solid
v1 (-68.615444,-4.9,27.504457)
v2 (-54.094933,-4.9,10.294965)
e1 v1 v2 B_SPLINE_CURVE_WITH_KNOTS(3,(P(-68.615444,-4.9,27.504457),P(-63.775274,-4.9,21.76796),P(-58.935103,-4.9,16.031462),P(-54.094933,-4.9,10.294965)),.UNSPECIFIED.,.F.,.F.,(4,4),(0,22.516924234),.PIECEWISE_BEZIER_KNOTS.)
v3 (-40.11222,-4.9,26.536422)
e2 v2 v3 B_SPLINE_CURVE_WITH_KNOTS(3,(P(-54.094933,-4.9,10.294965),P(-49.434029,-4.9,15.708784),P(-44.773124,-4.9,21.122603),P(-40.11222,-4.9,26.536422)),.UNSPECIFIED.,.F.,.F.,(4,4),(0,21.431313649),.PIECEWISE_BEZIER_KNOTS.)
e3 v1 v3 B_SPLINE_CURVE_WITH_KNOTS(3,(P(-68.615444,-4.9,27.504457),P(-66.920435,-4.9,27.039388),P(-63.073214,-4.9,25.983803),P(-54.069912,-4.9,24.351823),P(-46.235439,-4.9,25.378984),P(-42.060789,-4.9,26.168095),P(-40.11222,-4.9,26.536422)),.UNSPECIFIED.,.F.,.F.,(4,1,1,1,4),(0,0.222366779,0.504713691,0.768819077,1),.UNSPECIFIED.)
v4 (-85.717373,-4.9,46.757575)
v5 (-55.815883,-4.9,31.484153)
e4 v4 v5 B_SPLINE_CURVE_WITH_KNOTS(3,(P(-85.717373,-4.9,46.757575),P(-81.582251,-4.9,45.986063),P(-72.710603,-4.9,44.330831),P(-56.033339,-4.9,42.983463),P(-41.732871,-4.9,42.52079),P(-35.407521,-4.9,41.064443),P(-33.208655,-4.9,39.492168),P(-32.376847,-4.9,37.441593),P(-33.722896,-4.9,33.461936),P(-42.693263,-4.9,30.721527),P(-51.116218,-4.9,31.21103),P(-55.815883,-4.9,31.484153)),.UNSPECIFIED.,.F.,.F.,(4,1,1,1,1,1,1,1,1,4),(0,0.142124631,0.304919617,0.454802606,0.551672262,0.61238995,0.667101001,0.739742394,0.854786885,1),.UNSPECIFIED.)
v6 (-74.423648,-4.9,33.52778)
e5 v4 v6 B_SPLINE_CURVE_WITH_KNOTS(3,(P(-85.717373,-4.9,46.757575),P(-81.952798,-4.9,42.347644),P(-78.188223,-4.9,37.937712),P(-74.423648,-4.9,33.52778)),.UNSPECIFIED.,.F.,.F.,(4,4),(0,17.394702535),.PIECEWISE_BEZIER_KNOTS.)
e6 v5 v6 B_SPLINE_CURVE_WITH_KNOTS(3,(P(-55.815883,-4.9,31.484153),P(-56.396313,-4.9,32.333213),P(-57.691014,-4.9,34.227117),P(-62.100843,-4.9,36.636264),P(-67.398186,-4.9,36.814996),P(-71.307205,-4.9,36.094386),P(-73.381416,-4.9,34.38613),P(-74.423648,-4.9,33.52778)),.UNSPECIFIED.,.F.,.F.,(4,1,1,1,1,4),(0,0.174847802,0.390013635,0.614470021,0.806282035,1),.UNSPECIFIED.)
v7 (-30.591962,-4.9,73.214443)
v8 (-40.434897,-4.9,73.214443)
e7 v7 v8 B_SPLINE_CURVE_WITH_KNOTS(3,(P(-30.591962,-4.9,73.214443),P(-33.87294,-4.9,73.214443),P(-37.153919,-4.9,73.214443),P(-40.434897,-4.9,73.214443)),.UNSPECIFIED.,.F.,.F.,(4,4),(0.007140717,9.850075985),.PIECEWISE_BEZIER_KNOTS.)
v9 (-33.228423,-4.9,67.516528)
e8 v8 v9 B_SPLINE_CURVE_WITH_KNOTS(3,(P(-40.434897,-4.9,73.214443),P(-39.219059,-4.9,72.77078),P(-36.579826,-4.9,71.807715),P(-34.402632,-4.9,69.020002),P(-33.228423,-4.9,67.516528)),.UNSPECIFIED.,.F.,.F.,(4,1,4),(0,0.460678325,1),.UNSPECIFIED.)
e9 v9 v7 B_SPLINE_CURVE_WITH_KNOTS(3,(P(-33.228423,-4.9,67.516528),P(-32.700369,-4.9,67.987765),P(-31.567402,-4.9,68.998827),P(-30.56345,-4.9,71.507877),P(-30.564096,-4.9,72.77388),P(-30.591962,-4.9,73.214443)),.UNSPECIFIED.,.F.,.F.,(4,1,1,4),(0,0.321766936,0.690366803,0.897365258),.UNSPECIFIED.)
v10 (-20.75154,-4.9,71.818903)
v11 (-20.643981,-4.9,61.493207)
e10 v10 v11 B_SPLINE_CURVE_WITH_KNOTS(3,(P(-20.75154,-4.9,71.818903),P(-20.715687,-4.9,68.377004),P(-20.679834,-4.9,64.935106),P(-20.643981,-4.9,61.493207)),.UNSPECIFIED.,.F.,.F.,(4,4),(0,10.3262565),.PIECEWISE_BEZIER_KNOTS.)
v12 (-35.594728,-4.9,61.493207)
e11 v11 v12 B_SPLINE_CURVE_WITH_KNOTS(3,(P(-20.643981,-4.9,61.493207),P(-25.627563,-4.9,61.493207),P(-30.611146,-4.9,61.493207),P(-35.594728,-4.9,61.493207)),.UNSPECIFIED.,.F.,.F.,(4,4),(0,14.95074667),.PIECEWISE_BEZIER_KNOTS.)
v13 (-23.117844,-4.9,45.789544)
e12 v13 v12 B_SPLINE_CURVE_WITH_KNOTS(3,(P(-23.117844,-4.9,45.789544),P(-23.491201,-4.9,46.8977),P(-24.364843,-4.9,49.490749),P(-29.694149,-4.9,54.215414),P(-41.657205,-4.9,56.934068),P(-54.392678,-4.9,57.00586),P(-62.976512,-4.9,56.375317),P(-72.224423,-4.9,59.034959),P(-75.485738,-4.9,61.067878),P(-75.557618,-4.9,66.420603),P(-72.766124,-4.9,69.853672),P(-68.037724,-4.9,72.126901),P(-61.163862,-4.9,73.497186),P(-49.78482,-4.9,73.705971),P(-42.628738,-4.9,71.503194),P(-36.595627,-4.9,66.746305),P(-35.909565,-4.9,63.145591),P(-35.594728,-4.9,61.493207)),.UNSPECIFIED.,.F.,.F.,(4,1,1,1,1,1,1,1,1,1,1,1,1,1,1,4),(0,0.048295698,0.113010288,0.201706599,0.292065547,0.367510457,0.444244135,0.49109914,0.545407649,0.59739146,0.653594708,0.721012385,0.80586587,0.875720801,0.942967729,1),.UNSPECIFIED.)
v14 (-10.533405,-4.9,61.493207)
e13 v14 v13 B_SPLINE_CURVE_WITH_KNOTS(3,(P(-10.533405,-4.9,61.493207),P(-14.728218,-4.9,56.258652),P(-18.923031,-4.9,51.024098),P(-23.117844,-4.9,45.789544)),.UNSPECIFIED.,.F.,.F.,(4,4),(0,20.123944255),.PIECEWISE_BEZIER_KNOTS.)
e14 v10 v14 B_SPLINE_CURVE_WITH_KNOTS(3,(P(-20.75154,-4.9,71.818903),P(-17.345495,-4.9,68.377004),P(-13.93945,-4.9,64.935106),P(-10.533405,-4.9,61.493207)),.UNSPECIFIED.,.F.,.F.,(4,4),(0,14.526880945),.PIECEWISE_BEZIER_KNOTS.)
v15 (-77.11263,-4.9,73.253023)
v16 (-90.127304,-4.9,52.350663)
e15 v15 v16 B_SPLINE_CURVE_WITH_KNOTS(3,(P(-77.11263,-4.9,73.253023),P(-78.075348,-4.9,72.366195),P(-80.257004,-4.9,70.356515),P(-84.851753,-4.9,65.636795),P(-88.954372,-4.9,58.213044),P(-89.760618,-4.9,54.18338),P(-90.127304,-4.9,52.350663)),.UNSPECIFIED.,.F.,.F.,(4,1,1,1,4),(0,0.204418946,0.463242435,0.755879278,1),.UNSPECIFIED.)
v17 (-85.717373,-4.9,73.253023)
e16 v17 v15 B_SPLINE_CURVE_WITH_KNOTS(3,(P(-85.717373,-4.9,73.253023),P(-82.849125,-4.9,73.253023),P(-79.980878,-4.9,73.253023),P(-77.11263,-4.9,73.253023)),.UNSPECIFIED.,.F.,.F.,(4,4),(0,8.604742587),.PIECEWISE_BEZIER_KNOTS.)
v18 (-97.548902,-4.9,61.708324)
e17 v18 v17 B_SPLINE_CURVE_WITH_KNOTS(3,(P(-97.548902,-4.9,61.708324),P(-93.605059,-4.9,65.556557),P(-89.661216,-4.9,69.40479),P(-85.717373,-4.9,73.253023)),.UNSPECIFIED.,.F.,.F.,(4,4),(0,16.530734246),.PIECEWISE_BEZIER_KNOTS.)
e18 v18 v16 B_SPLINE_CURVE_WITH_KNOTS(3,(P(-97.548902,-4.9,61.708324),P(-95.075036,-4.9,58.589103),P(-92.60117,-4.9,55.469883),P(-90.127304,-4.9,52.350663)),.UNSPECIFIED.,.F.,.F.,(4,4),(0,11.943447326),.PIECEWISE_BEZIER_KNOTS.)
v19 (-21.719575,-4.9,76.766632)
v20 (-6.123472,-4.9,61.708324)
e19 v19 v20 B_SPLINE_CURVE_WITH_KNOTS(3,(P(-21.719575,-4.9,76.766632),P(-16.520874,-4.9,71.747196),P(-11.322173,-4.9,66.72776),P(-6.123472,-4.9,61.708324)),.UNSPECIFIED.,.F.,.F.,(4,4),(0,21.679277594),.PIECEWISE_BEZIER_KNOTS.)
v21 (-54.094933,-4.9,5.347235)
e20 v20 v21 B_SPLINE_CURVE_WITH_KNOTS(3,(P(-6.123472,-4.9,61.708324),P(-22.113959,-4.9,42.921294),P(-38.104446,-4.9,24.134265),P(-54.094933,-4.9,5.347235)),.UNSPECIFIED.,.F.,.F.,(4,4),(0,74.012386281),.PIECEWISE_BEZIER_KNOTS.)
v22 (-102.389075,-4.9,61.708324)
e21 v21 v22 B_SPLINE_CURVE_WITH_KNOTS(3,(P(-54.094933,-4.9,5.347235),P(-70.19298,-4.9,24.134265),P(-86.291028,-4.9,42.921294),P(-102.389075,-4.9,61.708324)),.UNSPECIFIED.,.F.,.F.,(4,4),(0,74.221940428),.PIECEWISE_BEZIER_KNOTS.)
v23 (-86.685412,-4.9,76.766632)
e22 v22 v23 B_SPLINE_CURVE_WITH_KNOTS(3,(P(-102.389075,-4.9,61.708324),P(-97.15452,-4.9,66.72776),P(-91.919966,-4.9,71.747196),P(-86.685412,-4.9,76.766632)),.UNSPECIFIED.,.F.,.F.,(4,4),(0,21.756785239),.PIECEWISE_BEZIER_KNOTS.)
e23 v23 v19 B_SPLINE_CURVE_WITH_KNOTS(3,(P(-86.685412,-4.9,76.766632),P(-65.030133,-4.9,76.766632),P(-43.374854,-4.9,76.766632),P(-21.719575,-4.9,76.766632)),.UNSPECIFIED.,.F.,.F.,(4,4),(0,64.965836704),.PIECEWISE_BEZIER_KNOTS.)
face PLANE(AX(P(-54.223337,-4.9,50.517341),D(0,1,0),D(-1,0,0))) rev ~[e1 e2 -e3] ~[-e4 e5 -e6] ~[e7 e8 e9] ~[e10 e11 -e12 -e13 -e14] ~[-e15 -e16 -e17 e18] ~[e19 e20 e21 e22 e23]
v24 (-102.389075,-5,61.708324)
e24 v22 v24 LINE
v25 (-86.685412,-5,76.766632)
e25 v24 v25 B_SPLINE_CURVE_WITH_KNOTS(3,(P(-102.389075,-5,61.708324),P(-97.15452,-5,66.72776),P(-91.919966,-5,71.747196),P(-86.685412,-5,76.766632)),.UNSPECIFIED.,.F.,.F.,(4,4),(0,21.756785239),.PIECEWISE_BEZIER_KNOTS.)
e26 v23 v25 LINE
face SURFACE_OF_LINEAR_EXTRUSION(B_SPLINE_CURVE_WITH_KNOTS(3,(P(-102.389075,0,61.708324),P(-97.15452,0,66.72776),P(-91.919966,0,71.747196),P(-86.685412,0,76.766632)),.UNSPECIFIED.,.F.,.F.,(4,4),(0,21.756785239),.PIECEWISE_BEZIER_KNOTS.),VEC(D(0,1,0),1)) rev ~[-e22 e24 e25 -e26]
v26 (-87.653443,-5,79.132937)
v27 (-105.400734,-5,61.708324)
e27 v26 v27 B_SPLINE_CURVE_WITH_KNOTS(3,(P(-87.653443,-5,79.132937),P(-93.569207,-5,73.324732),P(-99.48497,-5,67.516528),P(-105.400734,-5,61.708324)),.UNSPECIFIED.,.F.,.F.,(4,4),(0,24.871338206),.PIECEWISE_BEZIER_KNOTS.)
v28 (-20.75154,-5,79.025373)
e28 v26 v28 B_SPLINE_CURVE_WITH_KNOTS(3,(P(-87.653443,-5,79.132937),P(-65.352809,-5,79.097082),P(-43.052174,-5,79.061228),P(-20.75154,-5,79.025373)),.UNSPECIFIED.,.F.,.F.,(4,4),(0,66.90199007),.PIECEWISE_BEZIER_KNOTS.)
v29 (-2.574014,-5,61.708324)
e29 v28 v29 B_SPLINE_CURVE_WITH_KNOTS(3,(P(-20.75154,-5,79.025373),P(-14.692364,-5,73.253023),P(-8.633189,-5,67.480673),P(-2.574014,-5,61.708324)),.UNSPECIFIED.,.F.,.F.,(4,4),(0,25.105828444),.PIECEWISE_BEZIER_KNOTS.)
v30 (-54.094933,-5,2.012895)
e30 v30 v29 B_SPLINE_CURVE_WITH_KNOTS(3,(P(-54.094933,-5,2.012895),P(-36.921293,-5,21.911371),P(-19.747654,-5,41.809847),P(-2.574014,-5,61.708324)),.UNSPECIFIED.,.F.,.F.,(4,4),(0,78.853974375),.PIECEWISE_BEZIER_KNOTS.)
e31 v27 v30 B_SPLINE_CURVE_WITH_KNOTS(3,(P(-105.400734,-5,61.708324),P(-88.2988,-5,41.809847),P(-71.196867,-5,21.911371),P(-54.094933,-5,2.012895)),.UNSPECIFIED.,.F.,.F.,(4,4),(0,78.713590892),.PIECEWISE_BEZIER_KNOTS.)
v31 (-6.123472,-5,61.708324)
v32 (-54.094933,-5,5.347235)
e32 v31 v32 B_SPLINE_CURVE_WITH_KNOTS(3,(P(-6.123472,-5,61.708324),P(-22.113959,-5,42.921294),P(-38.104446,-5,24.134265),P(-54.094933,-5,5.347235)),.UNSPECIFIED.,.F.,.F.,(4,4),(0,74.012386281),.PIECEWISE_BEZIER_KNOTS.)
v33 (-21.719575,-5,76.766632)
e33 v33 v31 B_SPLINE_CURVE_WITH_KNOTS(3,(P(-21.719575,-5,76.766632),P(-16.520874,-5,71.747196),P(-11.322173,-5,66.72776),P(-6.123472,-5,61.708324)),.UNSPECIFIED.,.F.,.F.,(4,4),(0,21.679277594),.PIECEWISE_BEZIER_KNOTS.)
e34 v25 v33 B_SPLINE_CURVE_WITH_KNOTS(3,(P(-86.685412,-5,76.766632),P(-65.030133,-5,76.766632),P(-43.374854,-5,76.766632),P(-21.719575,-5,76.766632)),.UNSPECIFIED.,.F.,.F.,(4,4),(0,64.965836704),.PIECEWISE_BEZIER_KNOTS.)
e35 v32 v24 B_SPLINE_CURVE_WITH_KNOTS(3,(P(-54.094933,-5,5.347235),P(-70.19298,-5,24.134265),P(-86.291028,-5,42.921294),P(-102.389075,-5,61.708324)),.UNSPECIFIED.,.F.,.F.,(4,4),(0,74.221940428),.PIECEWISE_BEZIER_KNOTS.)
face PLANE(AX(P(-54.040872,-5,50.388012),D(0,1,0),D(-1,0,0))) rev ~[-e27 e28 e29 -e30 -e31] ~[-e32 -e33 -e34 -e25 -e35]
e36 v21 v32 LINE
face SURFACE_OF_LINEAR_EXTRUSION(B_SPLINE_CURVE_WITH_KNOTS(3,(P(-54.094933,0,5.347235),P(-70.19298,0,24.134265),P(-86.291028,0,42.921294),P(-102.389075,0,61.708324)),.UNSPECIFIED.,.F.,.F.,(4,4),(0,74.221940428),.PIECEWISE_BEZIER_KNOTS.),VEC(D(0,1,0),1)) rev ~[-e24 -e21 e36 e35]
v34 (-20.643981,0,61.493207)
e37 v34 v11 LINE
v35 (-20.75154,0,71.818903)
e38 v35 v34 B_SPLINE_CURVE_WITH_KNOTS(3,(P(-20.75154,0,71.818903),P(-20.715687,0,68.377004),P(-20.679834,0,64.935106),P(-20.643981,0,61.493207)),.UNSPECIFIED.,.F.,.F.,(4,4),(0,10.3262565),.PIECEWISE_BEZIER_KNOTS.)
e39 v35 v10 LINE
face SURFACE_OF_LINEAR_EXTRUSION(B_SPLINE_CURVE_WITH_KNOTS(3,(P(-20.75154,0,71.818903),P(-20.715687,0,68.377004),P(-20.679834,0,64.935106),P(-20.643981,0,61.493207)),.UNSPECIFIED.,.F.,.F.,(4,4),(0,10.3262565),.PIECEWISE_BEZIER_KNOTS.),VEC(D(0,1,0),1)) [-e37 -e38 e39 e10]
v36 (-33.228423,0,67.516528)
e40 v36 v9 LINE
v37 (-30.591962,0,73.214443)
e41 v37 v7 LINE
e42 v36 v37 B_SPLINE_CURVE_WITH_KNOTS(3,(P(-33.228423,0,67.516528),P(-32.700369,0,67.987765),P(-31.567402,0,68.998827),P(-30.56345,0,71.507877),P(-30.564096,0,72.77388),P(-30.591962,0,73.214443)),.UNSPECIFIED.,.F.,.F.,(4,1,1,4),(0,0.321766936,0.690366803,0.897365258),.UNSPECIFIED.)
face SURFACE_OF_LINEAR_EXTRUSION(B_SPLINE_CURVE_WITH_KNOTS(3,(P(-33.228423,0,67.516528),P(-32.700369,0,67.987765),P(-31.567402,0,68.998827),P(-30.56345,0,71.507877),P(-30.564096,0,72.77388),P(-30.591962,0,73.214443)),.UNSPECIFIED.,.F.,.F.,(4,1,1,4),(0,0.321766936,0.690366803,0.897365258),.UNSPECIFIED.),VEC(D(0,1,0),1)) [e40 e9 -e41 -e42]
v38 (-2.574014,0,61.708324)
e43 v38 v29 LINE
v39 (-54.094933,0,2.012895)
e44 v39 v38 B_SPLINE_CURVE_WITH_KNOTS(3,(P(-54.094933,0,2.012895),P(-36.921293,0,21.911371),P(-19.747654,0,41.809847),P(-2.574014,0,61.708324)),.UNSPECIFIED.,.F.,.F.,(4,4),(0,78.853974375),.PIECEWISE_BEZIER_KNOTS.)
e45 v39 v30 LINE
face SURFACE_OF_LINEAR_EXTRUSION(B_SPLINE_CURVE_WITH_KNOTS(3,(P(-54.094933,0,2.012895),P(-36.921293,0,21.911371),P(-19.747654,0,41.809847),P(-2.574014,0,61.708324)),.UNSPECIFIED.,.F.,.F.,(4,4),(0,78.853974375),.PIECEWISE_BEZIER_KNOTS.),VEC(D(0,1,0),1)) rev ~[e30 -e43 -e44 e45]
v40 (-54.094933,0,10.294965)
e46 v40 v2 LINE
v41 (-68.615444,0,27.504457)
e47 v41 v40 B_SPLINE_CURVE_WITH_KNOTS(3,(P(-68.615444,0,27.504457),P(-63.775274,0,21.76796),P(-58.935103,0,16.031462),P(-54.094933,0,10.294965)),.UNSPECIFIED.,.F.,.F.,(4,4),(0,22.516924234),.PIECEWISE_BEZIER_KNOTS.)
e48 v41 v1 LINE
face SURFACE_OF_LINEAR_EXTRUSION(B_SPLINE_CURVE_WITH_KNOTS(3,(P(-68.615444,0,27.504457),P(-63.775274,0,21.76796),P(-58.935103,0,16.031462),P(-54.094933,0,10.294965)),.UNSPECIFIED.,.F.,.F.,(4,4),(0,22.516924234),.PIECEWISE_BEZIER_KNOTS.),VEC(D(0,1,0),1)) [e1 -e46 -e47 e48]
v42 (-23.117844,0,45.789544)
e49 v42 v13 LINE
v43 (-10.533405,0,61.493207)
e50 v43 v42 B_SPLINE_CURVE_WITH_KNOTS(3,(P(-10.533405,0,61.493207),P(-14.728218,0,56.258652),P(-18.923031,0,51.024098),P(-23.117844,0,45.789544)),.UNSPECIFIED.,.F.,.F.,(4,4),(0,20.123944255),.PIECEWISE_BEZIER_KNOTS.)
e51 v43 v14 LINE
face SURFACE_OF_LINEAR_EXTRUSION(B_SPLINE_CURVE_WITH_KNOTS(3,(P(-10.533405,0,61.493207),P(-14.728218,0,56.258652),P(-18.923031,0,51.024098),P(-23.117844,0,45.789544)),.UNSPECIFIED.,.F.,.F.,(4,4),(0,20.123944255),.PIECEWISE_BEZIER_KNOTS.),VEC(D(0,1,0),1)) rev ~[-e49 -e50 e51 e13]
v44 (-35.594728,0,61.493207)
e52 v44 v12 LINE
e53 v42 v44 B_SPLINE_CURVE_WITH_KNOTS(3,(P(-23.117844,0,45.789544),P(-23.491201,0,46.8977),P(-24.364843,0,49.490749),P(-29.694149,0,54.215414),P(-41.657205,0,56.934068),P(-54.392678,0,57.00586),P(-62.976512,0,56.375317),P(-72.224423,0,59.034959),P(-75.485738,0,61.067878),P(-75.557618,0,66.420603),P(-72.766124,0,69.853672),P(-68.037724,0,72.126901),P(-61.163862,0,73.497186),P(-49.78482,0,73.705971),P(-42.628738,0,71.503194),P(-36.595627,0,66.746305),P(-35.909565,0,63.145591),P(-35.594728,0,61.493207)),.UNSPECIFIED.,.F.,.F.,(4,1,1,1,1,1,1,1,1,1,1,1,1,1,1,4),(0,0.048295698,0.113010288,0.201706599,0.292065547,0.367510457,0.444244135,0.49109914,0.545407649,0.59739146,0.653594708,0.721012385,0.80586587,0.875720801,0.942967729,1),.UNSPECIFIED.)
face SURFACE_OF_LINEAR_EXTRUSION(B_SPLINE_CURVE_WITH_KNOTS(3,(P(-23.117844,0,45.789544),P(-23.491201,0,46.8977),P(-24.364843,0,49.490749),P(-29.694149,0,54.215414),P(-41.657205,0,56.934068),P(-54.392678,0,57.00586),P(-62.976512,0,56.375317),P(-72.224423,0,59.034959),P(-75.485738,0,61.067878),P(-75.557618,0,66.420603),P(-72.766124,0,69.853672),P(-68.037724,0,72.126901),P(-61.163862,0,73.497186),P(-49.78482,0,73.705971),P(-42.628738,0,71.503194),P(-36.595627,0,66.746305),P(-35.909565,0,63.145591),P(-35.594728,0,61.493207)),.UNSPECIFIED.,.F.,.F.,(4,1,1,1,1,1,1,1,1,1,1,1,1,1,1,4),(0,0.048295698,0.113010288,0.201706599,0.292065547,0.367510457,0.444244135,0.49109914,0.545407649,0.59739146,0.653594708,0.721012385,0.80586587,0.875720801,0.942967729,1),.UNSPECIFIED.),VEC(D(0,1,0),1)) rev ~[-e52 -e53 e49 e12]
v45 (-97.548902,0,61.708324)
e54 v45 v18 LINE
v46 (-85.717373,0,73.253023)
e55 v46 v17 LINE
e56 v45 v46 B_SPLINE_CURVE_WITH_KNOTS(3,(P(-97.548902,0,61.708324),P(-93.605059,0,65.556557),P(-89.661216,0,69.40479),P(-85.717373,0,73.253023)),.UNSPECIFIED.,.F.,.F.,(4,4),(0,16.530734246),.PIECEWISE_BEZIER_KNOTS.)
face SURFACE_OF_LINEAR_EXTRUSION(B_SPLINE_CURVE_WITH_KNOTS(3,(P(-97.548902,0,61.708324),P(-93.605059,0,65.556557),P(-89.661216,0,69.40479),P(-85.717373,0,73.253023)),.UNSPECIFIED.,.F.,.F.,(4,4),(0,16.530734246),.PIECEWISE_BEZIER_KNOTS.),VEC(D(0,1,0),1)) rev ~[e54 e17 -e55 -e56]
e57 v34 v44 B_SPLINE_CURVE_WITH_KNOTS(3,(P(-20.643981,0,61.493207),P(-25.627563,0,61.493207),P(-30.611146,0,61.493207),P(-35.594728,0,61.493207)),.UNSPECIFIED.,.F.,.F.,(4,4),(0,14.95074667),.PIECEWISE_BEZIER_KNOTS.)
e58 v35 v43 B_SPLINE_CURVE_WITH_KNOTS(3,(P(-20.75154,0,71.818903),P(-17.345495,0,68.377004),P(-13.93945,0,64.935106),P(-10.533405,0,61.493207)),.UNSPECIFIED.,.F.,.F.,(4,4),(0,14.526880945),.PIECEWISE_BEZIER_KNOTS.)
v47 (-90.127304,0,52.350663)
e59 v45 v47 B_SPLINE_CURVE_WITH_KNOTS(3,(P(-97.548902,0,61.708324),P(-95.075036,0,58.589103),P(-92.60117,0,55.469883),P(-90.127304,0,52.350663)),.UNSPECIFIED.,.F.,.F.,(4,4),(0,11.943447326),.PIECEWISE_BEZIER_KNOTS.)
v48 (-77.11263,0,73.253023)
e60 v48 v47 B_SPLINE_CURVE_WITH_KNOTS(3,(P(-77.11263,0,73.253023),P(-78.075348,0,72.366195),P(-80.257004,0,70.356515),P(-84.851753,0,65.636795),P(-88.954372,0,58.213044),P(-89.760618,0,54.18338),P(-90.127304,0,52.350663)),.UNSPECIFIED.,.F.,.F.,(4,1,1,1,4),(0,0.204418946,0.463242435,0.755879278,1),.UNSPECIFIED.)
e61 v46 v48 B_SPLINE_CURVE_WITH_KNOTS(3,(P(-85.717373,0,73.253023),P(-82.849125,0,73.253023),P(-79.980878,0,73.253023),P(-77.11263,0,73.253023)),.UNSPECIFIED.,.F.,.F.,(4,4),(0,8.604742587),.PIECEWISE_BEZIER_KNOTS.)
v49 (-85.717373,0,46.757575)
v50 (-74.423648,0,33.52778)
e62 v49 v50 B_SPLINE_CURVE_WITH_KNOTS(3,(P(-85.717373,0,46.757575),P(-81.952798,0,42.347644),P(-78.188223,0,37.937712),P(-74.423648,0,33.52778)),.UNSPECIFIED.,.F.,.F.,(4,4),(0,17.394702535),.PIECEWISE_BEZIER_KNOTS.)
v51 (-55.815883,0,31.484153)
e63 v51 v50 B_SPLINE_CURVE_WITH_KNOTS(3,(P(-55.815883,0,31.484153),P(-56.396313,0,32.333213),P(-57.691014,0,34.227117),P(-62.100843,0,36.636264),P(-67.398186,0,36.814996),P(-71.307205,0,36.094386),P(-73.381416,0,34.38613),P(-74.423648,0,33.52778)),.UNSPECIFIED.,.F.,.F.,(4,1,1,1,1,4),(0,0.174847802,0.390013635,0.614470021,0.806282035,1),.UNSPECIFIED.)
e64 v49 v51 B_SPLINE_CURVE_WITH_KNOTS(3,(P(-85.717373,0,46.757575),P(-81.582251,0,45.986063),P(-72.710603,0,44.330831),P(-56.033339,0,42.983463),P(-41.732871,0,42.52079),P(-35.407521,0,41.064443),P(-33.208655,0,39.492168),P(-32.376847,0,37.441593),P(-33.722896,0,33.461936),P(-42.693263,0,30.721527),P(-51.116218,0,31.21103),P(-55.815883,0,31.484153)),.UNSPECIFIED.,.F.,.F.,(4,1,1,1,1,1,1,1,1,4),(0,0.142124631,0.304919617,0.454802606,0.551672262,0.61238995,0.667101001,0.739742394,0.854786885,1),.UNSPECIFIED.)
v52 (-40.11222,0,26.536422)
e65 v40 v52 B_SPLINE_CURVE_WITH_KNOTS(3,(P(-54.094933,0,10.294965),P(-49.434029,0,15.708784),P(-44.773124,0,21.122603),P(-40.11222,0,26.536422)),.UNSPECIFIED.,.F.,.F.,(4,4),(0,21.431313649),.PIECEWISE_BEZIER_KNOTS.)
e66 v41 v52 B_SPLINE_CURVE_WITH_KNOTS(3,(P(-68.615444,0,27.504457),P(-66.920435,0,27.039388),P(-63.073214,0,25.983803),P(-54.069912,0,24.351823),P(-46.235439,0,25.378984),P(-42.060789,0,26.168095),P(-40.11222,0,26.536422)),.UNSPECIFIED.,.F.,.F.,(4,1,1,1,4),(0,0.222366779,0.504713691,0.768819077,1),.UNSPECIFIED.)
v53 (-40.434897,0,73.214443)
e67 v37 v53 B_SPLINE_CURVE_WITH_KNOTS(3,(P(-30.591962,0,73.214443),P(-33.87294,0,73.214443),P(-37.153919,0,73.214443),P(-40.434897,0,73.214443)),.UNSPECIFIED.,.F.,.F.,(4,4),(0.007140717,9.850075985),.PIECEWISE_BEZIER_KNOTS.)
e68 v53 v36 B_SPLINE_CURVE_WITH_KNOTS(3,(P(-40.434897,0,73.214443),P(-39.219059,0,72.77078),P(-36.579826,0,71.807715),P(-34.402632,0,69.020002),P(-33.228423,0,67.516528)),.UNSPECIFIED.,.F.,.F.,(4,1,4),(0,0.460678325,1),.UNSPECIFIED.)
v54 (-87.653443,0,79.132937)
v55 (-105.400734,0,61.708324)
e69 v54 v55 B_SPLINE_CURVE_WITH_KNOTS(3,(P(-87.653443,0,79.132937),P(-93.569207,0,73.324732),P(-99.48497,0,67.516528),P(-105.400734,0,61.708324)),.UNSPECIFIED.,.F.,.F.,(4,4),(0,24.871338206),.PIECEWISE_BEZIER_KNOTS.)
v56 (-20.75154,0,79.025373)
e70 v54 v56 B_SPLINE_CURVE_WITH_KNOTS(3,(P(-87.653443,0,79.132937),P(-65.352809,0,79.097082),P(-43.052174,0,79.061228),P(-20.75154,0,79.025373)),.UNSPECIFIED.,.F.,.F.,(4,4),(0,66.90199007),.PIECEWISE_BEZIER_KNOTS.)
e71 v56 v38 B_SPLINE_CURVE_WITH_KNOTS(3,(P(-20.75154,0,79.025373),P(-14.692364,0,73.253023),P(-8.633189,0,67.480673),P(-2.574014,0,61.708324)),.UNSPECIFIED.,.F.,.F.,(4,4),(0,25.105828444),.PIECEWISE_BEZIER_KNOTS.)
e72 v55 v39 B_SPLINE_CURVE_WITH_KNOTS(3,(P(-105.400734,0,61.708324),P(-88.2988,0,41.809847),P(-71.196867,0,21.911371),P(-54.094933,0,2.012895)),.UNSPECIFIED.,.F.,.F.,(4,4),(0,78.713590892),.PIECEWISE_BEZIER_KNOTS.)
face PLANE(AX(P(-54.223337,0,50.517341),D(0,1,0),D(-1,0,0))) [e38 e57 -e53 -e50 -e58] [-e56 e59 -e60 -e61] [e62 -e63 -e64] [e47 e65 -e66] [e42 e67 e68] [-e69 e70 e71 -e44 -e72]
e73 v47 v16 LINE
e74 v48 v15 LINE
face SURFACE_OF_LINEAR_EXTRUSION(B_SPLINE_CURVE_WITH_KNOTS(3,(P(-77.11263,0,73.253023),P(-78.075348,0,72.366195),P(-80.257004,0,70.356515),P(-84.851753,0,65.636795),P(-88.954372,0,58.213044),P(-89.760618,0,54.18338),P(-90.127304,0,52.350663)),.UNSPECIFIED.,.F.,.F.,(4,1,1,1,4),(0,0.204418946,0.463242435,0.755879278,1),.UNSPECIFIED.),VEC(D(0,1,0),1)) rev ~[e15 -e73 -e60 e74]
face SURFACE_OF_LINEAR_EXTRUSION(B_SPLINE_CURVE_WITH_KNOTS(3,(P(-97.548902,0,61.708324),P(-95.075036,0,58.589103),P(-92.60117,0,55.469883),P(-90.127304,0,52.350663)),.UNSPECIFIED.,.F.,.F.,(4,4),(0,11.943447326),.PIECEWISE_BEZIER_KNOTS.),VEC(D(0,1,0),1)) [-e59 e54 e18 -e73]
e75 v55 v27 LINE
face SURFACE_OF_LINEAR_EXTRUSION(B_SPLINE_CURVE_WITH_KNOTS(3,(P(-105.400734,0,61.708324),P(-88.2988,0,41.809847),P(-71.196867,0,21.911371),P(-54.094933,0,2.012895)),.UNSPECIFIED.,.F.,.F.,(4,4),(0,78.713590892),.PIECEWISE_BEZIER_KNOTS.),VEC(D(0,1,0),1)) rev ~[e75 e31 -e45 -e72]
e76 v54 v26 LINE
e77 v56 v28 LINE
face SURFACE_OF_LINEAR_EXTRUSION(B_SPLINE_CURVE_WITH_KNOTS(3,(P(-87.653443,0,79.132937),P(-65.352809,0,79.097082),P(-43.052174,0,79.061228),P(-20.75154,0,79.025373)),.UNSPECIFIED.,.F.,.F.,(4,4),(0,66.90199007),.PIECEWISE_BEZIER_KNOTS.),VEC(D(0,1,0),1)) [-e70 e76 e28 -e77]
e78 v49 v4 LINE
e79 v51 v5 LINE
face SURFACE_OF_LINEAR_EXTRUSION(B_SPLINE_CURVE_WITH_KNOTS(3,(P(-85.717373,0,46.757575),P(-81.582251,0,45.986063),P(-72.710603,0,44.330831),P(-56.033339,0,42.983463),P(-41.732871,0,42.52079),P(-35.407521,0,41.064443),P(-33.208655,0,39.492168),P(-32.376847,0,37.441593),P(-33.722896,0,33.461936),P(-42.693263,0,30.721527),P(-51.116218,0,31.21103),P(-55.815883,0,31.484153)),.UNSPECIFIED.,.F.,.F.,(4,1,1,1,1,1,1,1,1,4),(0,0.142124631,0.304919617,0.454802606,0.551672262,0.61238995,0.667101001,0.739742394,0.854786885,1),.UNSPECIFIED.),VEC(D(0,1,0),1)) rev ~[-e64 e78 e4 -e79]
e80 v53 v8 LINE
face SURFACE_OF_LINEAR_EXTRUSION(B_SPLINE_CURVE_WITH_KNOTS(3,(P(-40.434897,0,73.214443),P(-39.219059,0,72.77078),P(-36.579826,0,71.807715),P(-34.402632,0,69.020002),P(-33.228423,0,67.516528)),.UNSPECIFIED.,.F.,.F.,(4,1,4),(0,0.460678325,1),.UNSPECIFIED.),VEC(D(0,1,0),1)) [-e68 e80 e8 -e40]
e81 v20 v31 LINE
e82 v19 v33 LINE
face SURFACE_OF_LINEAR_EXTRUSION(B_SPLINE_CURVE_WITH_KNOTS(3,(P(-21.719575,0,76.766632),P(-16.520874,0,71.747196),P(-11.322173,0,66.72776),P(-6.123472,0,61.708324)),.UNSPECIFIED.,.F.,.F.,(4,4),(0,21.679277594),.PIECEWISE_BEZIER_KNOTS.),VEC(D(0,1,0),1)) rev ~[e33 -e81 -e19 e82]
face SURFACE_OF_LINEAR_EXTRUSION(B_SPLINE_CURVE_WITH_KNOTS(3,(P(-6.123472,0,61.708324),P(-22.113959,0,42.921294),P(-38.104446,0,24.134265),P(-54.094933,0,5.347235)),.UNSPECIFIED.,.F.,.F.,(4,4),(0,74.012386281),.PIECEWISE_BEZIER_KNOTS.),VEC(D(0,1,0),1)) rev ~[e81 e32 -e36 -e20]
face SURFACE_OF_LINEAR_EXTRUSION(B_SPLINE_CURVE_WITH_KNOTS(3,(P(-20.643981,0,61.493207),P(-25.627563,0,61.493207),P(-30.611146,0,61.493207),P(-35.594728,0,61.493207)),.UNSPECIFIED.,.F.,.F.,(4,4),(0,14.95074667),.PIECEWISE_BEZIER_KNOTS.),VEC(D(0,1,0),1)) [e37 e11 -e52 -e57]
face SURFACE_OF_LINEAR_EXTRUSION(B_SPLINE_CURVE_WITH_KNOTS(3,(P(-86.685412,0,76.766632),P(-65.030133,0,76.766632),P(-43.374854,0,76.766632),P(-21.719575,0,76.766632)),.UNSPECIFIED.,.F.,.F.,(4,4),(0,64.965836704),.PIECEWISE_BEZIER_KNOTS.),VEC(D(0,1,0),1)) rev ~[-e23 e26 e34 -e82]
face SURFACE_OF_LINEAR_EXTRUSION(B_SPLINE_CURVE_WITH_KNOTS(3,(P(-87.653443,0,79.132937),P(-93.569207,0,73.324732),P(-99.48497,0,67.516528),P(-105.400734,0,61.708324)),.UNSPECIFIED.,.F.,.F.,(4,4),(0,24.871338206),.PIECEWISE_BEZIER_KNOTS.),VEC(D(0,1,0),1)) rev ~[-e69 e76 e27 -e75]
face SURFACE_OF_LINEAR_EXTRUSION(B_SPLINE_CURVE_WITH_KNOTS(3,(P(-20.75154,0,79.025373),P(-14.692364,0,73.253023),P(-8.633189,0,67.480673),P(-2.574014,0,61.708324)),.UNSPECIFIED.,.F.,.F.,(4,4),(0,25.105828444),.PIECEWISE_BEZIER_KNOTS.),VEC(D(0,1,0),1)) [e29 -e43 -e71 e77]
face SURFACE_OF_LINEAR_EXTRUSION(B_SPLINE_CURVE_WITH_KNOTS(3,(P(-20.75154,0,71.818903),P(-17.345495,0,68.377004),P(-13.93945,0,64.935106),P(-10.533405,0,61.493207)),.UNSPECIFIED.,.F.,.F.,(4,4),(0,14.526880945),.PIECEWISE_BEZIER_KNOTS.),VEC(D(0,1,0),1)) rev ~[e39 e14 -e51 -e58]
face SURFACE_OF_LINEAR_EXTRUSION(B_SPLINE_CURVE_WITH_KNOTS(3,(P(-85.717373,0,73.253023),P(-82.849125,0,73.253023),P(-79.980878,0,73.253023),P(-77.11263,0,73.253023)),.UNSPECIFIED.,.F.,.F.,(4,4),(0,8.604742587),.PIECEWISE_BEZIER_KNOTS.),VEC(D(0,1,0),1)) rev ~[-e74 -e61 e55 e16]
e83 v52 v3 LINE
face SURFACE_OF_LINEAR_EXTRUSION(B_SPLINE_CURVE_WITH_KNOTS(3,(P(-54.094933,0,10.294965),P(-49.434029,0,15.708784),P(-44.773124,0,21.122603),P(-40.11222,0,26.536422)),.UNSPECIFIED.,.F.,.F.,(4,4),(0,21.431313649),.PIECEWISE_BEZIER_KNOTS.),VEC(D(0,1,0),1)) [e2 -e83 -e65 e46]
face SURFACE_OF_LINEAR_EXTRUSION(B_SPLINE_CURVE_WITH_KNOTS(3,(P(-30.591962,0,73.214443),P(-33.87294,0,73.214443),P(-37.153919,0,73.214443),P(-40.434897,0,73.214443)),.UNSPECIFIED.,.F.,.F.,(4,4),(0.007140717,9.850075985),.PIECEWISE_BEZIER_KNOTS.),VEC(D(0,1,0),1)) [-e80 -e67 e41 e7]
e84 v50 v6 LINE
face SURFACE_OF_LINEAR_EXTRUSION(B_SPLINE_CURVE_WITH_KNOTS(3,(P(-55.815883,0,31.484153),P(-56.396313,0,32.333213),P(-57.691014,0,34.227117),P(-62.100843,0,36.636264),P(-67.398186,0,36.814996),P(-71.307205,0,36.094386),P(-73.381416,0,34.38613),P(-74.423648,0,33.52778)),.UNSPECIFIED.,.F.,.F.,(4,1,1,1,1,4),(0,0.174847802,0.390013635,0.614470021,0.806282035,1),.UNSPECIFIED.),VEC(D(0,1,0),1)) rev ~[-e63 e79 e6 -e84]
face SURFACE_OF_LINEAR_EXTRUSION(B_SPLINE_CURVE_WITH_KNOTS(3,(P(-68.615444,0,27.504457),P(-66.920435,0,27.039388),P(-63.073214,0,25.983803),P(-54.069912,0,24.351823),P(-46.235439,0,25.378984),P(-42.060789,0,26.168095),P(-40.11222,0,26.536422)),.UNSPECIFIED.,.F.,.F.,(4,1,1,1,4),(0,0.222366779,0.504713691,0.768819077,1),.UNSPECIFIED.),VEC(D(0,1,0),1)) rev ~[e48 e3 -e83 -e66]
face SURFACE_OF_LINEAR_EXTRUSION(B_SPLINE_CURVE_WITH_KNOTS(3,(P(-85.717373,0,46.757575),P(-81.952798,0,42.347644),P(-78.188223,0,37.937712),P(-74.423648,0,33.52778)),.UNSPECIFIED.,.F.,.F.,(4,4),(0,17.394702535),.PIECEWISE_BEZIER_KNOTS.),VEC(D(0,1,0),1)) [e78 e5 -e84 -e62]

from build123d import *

# Parameters (mm, degrees)
F1_DEPTH = 5
F2_DEPTH = 4.9


with BuildPart() as f1:
    # F0 (on Front) → F1 (new body)
    with BuildSketch(Plane.XZ):
        with BuildLine():
            add(Edge.make_bspline(
                [(-87.6534432173, 79.1329368949), (-65.3528086841, 79.0970822175), (-43.0521741509, 79.0612275402), (-20.7515396178, 79.0253728628)],
                knots=[0, 0, 0, 0, 66.9019900695, 66.9019900695, 66.9019900695, 66.9019900695], degree=3))
            add(Edge.make_bspline(
                [(-87.6534432173, 79.1329368949), (-93.5692066948, 73.3247324824), (-99.4849701722, 67.51652807), (-105.4007336497, 61.7083236575)],
                knots=[0, 0, 0, 0, 24.8713382062, 24.8713382062, 24.8713382062, 24.8713382062], degree=3))
            add(Edge.make_bspline(
                [(-105.4007336497, 61.7083236575), (-88.2988000909, 41.8098474232), (-71.1968665322, 21.9113711889), (-54.0949329734, 2.0128949545)],
                knots=[0, 0, 0, 0, 78.7135908917, 78.7135908917, 78.7135908917, 78.7135908917], degree=3))
            add(Edge.make_bspline(
                [(-54.0949329734, 2.0128949545), (-36.9212933971, 21.9113711889), (-19.7476538209, 41.8098474232), (-2.5740142446, 61.7083236575)],
                knots=[0, 0, 0, 0, 78.8539743747, 78.8539743747, 78.8539743747, 78.8539743747], degree=3))
            add(Edge.make_bspline(
                [(-20.7515396178, 79.0253728628), (-14.6923644934, 73.2530231277), (-8.633189369, 67.4806733926), (-2.5740142446, 61.7083236575)],
                knots=[0, 0, 0, 0, 25.1058284442, 25.1058284442, 25.1058284442, 25.1058284442], degree=3))
        make_face()
        with BuildLine():
            add(Edge.make_bspline(
                [(-54.0949329734, 5.3472351283), (-70.1929802696, 24.134264638), (-86.2910275658, 42.9212941478), (-102.389074862, 61.7083236575)],
                knots=[0, 0, 0, 0, 74.2219404284, 74.2219404284, 74.2219404284, 74.2219404284], degree=3))
            add(Edge.make_bspline(
                [(-102.389074862, 61.7083236575), (-97.154520452, 66.7277599374), (-91.919966042, 71.7471962174), (-86.6854116321, 76.7666324973)],
                knots=[0, 0, 0, 0, 21.7567852394, 21.7567852394, 21.7567852394, 21.7567852394], degree=3))
            add(Edge.make_bspline(
                [(-86.6854116321, 76.7666324973), (-65.0301327308, 76.7666324973), (-43.3748538295, 76.7666324973), (-21.7195749283, 76.7666324973)],
                knots=[0, 0, 0, 0, 64.9658367038, 64.9658367038, 64.9658367038, 64.9658367038], degree=3))
            add(Edge.make_bspline(
                [(-21.7195749283, 76.7666324973), (-16.5208741091, 71.7471962174), (-11.32217329, 66.7277599374), (-6.1234724708, 61.7083236575)],
                knots=[0, 0, 0, 0, 21.6792775936, 21.6792775936, 21.6792775936, 21.6792775936], degree=3))
            add(Edge.make_bspline(
                [(-6.1234724708, 61.7083236575), (-22.113959305, 42.9212941478), (-38.1044461392, 24.134264638), (-54.0949329734, 5.3472351283)],
                knots=[0, 0, 0, 0, 74.0123862806, 74.0123862806, 74.0123862806, 74.0123862806], degree=3))
        make_face(mode=Mode.SUBTRACT)
    extrude(amount=F1_DEPTH)

    # F0 (on Front) → F2 (join)
    with BuildSketch(Plane.XZ):
        with BuildLine():
            add(Edge.make_bspline(
                [(-102.389074862, 61.7083236575), (-97.154520452, 66.7277599374), (-91.919966042, 71.7471962174), (-86.6854116321, 76.7666324973)],
                knots=[0, 0, 0, 0, 21.7567852394, 21.7567852394, 21.7567852394, 21.7567852394], degree=3))
            add(Edge.make_bspline(
                [(-54.0949329734, 5.3472351283), (-70.1929802696, 24.134264638), (-86.2910275658, 42.9212941478), (-102.389074862, 61.7083236575)],
                knots=[0, 0, 0, 0, 74.2219404284, 74.2219404284, 74.2219404284, 74.2219404284], degree=3))
            add(Edge.make_bspline(
                [(-6.1234724708, 61.7083236575), (-22.113959305, 42.9212941478), (-38.1044461392, 24.134264638), (-54.0949329734, 5.3472351283)],
                knots=[0, 0, 0, 0, 74.0123862806, 74.0123862806, 74.0123862806, 74.0123862806], degree=3))
            add(Edge.make_bspline(
                [(-21.7195749283, 76.7666324973), (-16.5208741091, 71.7471962174), (-11.32217329, 66.7277599374), (-6.1234724708, 61.7083236575)],
                knots=[0, 0, 0, 0, 21.6792775936, 21.6792775936, 21.6792775936, 21.6792775936], degree=3))
            add(Edge.make_bspline(
                [(-86.6854116321, 76.7666324973), (-65.0301327308, 76.7666324973), (-43.3748538295, 76.7666324973), (-21.7195749283, 76.7666324973)],
                knots=[0, 0, 0, 0, 64.9658367038, 64.9658367038, 64.9658367038, 64.9658367038], degree=3))
        make_face()
        with BuildLine():
            add(Edge.make_bspline(
                [(-68.6154440045, 27.5044571608), (-63.7752736608, 21.7679596196), (-58.9351033171, 16.0314620783), (-54.0949329734, 10.294964537)],
                knots=[0, 0, 0, 0, 22.5169242343, 22.5169242343, 22.5169242343, 22.5169242343], degree=3))
            add(Edge.make_bspline(
                [(-68.6154440045, 27.5044571608), (-66.9204352107, 27.0393875886), (-63.0732141953, 25.9838028397), (-54.0699118944, 24.3518234332), (-46.2354388695, 25.378983687), (-42.0607886395, 26.168094676), (-40.1122197509, 26.5364218503)],
                knots=[0, 0, 0, 0, 0.2223667789, 0.5047136912, 0.7688190773, 1, 1, 1, 1], degree=3))
            add(Edge.make_bspline(
                [(-54.0949329734, 10.294964537), (-49.4340285659, 15.7087836415), (-44.7731241584, 21.1226027459), (-40.1122197509, 26.5364218503)],
                knots=[0, 0, 0, 0, 21.431313649, 21.431313649, 21.431313649, 21.431313649], degree=3))
        make_face(mode=Mode.SUBTRACT)
        with BuildLine():
            add(Edge.make_bspline(
                [(-85.7173725963, 46.7575751245), (-81.9527978698, 42.3476435244), (-78.1882231434, 37.9377119243), (-74.423648417, 33.5277803242)],
                knots=[0, 0, 0, 0, 17.3947025354, 17.3947025354, 17.3947025354, 17.3947025354], degree=3))
            add(Edge.make_bspline(
                [(-85.7173725963, 46.7575751245), (-81.5822510897, 45.9860629721), (-72.7106033507, 44.3308313104), (-56.0333389122, 42.9834630281), (-41.7328710862, 42.5207903504), (-35.4075209423, 41.0644433774), (-33.208654842, 39.4921679765), (-32.3768473013, 37.4415930773), (-33.7228963808, 33.4619358794), (-42.6932632376, 30.7215265449), (-51.1162181461, 31.2110301192), (-55.8158829808, 31.4841531217)],
                knots=[0, 0, 0, 0, 0.1421246313, 0.3049196166, 0.4548026061, 0.5516722621, 0.6123899498, 0.6671010014, 0.7397423943, 0.8547868853, 1, 1, 1, 1], degree=3))
            add(Edge.make_bspline(
                [(-55.8158829808, 31.4841531217), (-56.3963131215, 32.3332130137), (-57.6910143799, 34.2271169195), (-62.1008430935, 36.6362643433), (-67.398185958, 36.8149958699), (-71.3072053265, 36.0943855617), (-73.3814159508, 34.386130446), (-74.423648417, 33.5277803242)],
                knots=[0, 0, 0, 0, 0.1748478019, 0.3900136352, 0.6144700206, 0.806282035, 1, 1, 1, 1], degree=3))
        make_face(mode=Mode.SUBTRACT)
        with BuildLine():
            add(Edge.make_bspline(
                [(-97.5489020348, 61.7083236575), (-95.0750360886, 58.5891033212), (-92.6011701425, 55.469882985), (-90.1273041964, 52.3506626487)],
                knots=[0, 0, 0, 0, 11.9434473261, 11.9434473261, 11.9434473261, 11.9434473261], degree=3))
            add(Edge.make_bspline(
                [(-97.5489020348, 61.7083236575), (-93.6050588886, 65.5565568142), (-89.6612157424, 69.404789971), (-85.7173725963, 73.2530231277)],
                knots=[0, 0, 0, 0, 16.530734246, 16.530734246, 16.530734246, 16.530734246], degree=3))
            add(Edge.make_bspline(
                [(-85.7173725963, 73.2530231277), (-82.8491250674, 73.2530231277), (-79.9808775385, 73.2530231277), (-77.1126300097, 73.2530231277)],
                knots=[0, 0, 0, 0, 8.6047425866, 8.6047425866, 8.6047425866, 8.6047425866], degree=3))
            add(Edge.make_bspline(
                [(-77.1126300097, 73.2530231277), (-78.0753479663, 72.3661945208), (-80.2570039142, 70.3565146436), (-84.8517533585, 65.636795142), (-88.954371809, 58.2130442487), (-89.7606182407, 54.1833795405), (-90.1273041964, 52.3506626487)],
                knots=[0, 0, 0, 0, 0.2044189463, 0.4632424346, 0.7558792782, 1, 1, 1, 1], degree=3))
        make_face(mode=Mode.SUBTRACT)
        with BuildLine():
            add(Edge.make_bspline(
                [(-20.7515396178, 71.8189030886), (-20.7156868031, 68.3770043155), (-20.6798339883, 64.9351055423), (-20.6439811736, 61.4932067692)],
                knots=[0, 0, 0, 0, 10.3262564997, 10.3262564997, 10.3262564997, 10.3262564997], degree=3))
            add(Edge.make_bspline(
                [(-20.7515396178, 71.8189030886), (-17.3454949011, 68.3770043155), (-13.9394501845, 64.9351055423), (-10.5334054679, 61.4932067692)],
                knots=[0, 0, 0, 0, 14.5268809448, 14.5268809448, 14.5268809448, 14.5268809448], degree=3))
            add(Edge.make_bspline(
                [(-10.5334054679, 61.4932067692), (-14.728218317, 56.2586523592), (-18.9230311662, 51.0240979493), (-23.1178440154, 45.7895435393)],
                knots=[0, 0, 0, 0, 20.1239442554, 20.1239442554, 20.1239442554, 20.1239442554], degree=3))
            add(Edge.make_bspline(
                [(-23.1178440154, 45.7895435393), (-23.4912007309, 46.8977001209), (-24.364842717, 49.4907487433), (-29.6941491146, 54.2154135224), (-41.6572047726, 56.9340677916), (-54.3926777813, 57.0058602606), (-62.9765124353, 56.3753171723), (-72.2244229054, 59.0349585728), (-75.4857383379, 61.0678780109), (-75.5576175347, 66.4206027918), (-72.7661236211, 69.853671623), (-68.0377240644, 72.1269011195), (-61.1638616133, 73.4971855633), (-49.7848201613, 73.7059713767), (-42.6287380978, 71.5031935863), (-36.5956267283, 66.7463050935), (-35.9095647174, 63.1455905196), (-35.594727844, 61.4932067692)],
                knots=[0, 0, 0, 0, 0.0482956983, 0.1130102877, 0.2017065987, 0.2920655469, 0.3675104567, 0.4442441352, 0.4910991403, 0.5454076493, 0.5973914595, 0.6535947076, 0.721012385, 0.8058658703, 0.8757208008, 0.942967729, 1, 1, 1, 1], degree=3))
            add(Edge.make_bspline(
                [(-20.6439811736, 61.4932067692), (-25.6275633971, 61.4932067692), (-30.6111456205, 61.4932067692), (-35.594727844, 61.4932067692)],
                knots=[0, 0, 0, 0, 14.9507466704, 14.9507466704, 14.9507466704, 14.9507466704], degree=3))
        make_face(mode=Mode.SUBTRACT)
        with BuildLine():
            add(Edge.make_bspline(
                [(-33.2284234464, 67.51652807), (-32.7003690964, 67.9877648632), (-31.5674024904, 68.9988266039), (-30.5634503586, 71.5078772866), (-30.564095783, 72.773879588), (-30.5919616779, 73.2144428756)],
                knots=[0, 0, 0, 0, 0.3217669361, 0.6903668031, 0.8973652582, 0.8973652582, 0.8973652582, 0.8973652582], degree=3))
            add(Edge.make_bspline(
                [(-40.434896946, 73.2144428755), (-39.2190594467, 72.7707797373), (-36.5798263142, 71.8077148088), (-34.4026316949, 69.0200020071), (-33.2284234464, 67.51652807)],
                knots=[0, 0, 0, 0, 0.4606783252, 1, 1, 1, 1], degree=3))
            add(Edge.make_bspline(
                [(-30.5919616781, 73.2144428755), (-33.8729401007, 73.2144428755), (-37.1539185233, 73.2144428755), (-40.434896946, 73.2144428755)],
                knots=[0.0071407168, 0.0071407168, 0.0071407168, 0.0071407168, 9.8500759846, 9.8500759846, 9.8500759846, 9.8500759846], degree=3))
        make_face(mode=Mode.SUBTRACT)
    extrude(amount=F2_DEPTH)


solid = f1.part
